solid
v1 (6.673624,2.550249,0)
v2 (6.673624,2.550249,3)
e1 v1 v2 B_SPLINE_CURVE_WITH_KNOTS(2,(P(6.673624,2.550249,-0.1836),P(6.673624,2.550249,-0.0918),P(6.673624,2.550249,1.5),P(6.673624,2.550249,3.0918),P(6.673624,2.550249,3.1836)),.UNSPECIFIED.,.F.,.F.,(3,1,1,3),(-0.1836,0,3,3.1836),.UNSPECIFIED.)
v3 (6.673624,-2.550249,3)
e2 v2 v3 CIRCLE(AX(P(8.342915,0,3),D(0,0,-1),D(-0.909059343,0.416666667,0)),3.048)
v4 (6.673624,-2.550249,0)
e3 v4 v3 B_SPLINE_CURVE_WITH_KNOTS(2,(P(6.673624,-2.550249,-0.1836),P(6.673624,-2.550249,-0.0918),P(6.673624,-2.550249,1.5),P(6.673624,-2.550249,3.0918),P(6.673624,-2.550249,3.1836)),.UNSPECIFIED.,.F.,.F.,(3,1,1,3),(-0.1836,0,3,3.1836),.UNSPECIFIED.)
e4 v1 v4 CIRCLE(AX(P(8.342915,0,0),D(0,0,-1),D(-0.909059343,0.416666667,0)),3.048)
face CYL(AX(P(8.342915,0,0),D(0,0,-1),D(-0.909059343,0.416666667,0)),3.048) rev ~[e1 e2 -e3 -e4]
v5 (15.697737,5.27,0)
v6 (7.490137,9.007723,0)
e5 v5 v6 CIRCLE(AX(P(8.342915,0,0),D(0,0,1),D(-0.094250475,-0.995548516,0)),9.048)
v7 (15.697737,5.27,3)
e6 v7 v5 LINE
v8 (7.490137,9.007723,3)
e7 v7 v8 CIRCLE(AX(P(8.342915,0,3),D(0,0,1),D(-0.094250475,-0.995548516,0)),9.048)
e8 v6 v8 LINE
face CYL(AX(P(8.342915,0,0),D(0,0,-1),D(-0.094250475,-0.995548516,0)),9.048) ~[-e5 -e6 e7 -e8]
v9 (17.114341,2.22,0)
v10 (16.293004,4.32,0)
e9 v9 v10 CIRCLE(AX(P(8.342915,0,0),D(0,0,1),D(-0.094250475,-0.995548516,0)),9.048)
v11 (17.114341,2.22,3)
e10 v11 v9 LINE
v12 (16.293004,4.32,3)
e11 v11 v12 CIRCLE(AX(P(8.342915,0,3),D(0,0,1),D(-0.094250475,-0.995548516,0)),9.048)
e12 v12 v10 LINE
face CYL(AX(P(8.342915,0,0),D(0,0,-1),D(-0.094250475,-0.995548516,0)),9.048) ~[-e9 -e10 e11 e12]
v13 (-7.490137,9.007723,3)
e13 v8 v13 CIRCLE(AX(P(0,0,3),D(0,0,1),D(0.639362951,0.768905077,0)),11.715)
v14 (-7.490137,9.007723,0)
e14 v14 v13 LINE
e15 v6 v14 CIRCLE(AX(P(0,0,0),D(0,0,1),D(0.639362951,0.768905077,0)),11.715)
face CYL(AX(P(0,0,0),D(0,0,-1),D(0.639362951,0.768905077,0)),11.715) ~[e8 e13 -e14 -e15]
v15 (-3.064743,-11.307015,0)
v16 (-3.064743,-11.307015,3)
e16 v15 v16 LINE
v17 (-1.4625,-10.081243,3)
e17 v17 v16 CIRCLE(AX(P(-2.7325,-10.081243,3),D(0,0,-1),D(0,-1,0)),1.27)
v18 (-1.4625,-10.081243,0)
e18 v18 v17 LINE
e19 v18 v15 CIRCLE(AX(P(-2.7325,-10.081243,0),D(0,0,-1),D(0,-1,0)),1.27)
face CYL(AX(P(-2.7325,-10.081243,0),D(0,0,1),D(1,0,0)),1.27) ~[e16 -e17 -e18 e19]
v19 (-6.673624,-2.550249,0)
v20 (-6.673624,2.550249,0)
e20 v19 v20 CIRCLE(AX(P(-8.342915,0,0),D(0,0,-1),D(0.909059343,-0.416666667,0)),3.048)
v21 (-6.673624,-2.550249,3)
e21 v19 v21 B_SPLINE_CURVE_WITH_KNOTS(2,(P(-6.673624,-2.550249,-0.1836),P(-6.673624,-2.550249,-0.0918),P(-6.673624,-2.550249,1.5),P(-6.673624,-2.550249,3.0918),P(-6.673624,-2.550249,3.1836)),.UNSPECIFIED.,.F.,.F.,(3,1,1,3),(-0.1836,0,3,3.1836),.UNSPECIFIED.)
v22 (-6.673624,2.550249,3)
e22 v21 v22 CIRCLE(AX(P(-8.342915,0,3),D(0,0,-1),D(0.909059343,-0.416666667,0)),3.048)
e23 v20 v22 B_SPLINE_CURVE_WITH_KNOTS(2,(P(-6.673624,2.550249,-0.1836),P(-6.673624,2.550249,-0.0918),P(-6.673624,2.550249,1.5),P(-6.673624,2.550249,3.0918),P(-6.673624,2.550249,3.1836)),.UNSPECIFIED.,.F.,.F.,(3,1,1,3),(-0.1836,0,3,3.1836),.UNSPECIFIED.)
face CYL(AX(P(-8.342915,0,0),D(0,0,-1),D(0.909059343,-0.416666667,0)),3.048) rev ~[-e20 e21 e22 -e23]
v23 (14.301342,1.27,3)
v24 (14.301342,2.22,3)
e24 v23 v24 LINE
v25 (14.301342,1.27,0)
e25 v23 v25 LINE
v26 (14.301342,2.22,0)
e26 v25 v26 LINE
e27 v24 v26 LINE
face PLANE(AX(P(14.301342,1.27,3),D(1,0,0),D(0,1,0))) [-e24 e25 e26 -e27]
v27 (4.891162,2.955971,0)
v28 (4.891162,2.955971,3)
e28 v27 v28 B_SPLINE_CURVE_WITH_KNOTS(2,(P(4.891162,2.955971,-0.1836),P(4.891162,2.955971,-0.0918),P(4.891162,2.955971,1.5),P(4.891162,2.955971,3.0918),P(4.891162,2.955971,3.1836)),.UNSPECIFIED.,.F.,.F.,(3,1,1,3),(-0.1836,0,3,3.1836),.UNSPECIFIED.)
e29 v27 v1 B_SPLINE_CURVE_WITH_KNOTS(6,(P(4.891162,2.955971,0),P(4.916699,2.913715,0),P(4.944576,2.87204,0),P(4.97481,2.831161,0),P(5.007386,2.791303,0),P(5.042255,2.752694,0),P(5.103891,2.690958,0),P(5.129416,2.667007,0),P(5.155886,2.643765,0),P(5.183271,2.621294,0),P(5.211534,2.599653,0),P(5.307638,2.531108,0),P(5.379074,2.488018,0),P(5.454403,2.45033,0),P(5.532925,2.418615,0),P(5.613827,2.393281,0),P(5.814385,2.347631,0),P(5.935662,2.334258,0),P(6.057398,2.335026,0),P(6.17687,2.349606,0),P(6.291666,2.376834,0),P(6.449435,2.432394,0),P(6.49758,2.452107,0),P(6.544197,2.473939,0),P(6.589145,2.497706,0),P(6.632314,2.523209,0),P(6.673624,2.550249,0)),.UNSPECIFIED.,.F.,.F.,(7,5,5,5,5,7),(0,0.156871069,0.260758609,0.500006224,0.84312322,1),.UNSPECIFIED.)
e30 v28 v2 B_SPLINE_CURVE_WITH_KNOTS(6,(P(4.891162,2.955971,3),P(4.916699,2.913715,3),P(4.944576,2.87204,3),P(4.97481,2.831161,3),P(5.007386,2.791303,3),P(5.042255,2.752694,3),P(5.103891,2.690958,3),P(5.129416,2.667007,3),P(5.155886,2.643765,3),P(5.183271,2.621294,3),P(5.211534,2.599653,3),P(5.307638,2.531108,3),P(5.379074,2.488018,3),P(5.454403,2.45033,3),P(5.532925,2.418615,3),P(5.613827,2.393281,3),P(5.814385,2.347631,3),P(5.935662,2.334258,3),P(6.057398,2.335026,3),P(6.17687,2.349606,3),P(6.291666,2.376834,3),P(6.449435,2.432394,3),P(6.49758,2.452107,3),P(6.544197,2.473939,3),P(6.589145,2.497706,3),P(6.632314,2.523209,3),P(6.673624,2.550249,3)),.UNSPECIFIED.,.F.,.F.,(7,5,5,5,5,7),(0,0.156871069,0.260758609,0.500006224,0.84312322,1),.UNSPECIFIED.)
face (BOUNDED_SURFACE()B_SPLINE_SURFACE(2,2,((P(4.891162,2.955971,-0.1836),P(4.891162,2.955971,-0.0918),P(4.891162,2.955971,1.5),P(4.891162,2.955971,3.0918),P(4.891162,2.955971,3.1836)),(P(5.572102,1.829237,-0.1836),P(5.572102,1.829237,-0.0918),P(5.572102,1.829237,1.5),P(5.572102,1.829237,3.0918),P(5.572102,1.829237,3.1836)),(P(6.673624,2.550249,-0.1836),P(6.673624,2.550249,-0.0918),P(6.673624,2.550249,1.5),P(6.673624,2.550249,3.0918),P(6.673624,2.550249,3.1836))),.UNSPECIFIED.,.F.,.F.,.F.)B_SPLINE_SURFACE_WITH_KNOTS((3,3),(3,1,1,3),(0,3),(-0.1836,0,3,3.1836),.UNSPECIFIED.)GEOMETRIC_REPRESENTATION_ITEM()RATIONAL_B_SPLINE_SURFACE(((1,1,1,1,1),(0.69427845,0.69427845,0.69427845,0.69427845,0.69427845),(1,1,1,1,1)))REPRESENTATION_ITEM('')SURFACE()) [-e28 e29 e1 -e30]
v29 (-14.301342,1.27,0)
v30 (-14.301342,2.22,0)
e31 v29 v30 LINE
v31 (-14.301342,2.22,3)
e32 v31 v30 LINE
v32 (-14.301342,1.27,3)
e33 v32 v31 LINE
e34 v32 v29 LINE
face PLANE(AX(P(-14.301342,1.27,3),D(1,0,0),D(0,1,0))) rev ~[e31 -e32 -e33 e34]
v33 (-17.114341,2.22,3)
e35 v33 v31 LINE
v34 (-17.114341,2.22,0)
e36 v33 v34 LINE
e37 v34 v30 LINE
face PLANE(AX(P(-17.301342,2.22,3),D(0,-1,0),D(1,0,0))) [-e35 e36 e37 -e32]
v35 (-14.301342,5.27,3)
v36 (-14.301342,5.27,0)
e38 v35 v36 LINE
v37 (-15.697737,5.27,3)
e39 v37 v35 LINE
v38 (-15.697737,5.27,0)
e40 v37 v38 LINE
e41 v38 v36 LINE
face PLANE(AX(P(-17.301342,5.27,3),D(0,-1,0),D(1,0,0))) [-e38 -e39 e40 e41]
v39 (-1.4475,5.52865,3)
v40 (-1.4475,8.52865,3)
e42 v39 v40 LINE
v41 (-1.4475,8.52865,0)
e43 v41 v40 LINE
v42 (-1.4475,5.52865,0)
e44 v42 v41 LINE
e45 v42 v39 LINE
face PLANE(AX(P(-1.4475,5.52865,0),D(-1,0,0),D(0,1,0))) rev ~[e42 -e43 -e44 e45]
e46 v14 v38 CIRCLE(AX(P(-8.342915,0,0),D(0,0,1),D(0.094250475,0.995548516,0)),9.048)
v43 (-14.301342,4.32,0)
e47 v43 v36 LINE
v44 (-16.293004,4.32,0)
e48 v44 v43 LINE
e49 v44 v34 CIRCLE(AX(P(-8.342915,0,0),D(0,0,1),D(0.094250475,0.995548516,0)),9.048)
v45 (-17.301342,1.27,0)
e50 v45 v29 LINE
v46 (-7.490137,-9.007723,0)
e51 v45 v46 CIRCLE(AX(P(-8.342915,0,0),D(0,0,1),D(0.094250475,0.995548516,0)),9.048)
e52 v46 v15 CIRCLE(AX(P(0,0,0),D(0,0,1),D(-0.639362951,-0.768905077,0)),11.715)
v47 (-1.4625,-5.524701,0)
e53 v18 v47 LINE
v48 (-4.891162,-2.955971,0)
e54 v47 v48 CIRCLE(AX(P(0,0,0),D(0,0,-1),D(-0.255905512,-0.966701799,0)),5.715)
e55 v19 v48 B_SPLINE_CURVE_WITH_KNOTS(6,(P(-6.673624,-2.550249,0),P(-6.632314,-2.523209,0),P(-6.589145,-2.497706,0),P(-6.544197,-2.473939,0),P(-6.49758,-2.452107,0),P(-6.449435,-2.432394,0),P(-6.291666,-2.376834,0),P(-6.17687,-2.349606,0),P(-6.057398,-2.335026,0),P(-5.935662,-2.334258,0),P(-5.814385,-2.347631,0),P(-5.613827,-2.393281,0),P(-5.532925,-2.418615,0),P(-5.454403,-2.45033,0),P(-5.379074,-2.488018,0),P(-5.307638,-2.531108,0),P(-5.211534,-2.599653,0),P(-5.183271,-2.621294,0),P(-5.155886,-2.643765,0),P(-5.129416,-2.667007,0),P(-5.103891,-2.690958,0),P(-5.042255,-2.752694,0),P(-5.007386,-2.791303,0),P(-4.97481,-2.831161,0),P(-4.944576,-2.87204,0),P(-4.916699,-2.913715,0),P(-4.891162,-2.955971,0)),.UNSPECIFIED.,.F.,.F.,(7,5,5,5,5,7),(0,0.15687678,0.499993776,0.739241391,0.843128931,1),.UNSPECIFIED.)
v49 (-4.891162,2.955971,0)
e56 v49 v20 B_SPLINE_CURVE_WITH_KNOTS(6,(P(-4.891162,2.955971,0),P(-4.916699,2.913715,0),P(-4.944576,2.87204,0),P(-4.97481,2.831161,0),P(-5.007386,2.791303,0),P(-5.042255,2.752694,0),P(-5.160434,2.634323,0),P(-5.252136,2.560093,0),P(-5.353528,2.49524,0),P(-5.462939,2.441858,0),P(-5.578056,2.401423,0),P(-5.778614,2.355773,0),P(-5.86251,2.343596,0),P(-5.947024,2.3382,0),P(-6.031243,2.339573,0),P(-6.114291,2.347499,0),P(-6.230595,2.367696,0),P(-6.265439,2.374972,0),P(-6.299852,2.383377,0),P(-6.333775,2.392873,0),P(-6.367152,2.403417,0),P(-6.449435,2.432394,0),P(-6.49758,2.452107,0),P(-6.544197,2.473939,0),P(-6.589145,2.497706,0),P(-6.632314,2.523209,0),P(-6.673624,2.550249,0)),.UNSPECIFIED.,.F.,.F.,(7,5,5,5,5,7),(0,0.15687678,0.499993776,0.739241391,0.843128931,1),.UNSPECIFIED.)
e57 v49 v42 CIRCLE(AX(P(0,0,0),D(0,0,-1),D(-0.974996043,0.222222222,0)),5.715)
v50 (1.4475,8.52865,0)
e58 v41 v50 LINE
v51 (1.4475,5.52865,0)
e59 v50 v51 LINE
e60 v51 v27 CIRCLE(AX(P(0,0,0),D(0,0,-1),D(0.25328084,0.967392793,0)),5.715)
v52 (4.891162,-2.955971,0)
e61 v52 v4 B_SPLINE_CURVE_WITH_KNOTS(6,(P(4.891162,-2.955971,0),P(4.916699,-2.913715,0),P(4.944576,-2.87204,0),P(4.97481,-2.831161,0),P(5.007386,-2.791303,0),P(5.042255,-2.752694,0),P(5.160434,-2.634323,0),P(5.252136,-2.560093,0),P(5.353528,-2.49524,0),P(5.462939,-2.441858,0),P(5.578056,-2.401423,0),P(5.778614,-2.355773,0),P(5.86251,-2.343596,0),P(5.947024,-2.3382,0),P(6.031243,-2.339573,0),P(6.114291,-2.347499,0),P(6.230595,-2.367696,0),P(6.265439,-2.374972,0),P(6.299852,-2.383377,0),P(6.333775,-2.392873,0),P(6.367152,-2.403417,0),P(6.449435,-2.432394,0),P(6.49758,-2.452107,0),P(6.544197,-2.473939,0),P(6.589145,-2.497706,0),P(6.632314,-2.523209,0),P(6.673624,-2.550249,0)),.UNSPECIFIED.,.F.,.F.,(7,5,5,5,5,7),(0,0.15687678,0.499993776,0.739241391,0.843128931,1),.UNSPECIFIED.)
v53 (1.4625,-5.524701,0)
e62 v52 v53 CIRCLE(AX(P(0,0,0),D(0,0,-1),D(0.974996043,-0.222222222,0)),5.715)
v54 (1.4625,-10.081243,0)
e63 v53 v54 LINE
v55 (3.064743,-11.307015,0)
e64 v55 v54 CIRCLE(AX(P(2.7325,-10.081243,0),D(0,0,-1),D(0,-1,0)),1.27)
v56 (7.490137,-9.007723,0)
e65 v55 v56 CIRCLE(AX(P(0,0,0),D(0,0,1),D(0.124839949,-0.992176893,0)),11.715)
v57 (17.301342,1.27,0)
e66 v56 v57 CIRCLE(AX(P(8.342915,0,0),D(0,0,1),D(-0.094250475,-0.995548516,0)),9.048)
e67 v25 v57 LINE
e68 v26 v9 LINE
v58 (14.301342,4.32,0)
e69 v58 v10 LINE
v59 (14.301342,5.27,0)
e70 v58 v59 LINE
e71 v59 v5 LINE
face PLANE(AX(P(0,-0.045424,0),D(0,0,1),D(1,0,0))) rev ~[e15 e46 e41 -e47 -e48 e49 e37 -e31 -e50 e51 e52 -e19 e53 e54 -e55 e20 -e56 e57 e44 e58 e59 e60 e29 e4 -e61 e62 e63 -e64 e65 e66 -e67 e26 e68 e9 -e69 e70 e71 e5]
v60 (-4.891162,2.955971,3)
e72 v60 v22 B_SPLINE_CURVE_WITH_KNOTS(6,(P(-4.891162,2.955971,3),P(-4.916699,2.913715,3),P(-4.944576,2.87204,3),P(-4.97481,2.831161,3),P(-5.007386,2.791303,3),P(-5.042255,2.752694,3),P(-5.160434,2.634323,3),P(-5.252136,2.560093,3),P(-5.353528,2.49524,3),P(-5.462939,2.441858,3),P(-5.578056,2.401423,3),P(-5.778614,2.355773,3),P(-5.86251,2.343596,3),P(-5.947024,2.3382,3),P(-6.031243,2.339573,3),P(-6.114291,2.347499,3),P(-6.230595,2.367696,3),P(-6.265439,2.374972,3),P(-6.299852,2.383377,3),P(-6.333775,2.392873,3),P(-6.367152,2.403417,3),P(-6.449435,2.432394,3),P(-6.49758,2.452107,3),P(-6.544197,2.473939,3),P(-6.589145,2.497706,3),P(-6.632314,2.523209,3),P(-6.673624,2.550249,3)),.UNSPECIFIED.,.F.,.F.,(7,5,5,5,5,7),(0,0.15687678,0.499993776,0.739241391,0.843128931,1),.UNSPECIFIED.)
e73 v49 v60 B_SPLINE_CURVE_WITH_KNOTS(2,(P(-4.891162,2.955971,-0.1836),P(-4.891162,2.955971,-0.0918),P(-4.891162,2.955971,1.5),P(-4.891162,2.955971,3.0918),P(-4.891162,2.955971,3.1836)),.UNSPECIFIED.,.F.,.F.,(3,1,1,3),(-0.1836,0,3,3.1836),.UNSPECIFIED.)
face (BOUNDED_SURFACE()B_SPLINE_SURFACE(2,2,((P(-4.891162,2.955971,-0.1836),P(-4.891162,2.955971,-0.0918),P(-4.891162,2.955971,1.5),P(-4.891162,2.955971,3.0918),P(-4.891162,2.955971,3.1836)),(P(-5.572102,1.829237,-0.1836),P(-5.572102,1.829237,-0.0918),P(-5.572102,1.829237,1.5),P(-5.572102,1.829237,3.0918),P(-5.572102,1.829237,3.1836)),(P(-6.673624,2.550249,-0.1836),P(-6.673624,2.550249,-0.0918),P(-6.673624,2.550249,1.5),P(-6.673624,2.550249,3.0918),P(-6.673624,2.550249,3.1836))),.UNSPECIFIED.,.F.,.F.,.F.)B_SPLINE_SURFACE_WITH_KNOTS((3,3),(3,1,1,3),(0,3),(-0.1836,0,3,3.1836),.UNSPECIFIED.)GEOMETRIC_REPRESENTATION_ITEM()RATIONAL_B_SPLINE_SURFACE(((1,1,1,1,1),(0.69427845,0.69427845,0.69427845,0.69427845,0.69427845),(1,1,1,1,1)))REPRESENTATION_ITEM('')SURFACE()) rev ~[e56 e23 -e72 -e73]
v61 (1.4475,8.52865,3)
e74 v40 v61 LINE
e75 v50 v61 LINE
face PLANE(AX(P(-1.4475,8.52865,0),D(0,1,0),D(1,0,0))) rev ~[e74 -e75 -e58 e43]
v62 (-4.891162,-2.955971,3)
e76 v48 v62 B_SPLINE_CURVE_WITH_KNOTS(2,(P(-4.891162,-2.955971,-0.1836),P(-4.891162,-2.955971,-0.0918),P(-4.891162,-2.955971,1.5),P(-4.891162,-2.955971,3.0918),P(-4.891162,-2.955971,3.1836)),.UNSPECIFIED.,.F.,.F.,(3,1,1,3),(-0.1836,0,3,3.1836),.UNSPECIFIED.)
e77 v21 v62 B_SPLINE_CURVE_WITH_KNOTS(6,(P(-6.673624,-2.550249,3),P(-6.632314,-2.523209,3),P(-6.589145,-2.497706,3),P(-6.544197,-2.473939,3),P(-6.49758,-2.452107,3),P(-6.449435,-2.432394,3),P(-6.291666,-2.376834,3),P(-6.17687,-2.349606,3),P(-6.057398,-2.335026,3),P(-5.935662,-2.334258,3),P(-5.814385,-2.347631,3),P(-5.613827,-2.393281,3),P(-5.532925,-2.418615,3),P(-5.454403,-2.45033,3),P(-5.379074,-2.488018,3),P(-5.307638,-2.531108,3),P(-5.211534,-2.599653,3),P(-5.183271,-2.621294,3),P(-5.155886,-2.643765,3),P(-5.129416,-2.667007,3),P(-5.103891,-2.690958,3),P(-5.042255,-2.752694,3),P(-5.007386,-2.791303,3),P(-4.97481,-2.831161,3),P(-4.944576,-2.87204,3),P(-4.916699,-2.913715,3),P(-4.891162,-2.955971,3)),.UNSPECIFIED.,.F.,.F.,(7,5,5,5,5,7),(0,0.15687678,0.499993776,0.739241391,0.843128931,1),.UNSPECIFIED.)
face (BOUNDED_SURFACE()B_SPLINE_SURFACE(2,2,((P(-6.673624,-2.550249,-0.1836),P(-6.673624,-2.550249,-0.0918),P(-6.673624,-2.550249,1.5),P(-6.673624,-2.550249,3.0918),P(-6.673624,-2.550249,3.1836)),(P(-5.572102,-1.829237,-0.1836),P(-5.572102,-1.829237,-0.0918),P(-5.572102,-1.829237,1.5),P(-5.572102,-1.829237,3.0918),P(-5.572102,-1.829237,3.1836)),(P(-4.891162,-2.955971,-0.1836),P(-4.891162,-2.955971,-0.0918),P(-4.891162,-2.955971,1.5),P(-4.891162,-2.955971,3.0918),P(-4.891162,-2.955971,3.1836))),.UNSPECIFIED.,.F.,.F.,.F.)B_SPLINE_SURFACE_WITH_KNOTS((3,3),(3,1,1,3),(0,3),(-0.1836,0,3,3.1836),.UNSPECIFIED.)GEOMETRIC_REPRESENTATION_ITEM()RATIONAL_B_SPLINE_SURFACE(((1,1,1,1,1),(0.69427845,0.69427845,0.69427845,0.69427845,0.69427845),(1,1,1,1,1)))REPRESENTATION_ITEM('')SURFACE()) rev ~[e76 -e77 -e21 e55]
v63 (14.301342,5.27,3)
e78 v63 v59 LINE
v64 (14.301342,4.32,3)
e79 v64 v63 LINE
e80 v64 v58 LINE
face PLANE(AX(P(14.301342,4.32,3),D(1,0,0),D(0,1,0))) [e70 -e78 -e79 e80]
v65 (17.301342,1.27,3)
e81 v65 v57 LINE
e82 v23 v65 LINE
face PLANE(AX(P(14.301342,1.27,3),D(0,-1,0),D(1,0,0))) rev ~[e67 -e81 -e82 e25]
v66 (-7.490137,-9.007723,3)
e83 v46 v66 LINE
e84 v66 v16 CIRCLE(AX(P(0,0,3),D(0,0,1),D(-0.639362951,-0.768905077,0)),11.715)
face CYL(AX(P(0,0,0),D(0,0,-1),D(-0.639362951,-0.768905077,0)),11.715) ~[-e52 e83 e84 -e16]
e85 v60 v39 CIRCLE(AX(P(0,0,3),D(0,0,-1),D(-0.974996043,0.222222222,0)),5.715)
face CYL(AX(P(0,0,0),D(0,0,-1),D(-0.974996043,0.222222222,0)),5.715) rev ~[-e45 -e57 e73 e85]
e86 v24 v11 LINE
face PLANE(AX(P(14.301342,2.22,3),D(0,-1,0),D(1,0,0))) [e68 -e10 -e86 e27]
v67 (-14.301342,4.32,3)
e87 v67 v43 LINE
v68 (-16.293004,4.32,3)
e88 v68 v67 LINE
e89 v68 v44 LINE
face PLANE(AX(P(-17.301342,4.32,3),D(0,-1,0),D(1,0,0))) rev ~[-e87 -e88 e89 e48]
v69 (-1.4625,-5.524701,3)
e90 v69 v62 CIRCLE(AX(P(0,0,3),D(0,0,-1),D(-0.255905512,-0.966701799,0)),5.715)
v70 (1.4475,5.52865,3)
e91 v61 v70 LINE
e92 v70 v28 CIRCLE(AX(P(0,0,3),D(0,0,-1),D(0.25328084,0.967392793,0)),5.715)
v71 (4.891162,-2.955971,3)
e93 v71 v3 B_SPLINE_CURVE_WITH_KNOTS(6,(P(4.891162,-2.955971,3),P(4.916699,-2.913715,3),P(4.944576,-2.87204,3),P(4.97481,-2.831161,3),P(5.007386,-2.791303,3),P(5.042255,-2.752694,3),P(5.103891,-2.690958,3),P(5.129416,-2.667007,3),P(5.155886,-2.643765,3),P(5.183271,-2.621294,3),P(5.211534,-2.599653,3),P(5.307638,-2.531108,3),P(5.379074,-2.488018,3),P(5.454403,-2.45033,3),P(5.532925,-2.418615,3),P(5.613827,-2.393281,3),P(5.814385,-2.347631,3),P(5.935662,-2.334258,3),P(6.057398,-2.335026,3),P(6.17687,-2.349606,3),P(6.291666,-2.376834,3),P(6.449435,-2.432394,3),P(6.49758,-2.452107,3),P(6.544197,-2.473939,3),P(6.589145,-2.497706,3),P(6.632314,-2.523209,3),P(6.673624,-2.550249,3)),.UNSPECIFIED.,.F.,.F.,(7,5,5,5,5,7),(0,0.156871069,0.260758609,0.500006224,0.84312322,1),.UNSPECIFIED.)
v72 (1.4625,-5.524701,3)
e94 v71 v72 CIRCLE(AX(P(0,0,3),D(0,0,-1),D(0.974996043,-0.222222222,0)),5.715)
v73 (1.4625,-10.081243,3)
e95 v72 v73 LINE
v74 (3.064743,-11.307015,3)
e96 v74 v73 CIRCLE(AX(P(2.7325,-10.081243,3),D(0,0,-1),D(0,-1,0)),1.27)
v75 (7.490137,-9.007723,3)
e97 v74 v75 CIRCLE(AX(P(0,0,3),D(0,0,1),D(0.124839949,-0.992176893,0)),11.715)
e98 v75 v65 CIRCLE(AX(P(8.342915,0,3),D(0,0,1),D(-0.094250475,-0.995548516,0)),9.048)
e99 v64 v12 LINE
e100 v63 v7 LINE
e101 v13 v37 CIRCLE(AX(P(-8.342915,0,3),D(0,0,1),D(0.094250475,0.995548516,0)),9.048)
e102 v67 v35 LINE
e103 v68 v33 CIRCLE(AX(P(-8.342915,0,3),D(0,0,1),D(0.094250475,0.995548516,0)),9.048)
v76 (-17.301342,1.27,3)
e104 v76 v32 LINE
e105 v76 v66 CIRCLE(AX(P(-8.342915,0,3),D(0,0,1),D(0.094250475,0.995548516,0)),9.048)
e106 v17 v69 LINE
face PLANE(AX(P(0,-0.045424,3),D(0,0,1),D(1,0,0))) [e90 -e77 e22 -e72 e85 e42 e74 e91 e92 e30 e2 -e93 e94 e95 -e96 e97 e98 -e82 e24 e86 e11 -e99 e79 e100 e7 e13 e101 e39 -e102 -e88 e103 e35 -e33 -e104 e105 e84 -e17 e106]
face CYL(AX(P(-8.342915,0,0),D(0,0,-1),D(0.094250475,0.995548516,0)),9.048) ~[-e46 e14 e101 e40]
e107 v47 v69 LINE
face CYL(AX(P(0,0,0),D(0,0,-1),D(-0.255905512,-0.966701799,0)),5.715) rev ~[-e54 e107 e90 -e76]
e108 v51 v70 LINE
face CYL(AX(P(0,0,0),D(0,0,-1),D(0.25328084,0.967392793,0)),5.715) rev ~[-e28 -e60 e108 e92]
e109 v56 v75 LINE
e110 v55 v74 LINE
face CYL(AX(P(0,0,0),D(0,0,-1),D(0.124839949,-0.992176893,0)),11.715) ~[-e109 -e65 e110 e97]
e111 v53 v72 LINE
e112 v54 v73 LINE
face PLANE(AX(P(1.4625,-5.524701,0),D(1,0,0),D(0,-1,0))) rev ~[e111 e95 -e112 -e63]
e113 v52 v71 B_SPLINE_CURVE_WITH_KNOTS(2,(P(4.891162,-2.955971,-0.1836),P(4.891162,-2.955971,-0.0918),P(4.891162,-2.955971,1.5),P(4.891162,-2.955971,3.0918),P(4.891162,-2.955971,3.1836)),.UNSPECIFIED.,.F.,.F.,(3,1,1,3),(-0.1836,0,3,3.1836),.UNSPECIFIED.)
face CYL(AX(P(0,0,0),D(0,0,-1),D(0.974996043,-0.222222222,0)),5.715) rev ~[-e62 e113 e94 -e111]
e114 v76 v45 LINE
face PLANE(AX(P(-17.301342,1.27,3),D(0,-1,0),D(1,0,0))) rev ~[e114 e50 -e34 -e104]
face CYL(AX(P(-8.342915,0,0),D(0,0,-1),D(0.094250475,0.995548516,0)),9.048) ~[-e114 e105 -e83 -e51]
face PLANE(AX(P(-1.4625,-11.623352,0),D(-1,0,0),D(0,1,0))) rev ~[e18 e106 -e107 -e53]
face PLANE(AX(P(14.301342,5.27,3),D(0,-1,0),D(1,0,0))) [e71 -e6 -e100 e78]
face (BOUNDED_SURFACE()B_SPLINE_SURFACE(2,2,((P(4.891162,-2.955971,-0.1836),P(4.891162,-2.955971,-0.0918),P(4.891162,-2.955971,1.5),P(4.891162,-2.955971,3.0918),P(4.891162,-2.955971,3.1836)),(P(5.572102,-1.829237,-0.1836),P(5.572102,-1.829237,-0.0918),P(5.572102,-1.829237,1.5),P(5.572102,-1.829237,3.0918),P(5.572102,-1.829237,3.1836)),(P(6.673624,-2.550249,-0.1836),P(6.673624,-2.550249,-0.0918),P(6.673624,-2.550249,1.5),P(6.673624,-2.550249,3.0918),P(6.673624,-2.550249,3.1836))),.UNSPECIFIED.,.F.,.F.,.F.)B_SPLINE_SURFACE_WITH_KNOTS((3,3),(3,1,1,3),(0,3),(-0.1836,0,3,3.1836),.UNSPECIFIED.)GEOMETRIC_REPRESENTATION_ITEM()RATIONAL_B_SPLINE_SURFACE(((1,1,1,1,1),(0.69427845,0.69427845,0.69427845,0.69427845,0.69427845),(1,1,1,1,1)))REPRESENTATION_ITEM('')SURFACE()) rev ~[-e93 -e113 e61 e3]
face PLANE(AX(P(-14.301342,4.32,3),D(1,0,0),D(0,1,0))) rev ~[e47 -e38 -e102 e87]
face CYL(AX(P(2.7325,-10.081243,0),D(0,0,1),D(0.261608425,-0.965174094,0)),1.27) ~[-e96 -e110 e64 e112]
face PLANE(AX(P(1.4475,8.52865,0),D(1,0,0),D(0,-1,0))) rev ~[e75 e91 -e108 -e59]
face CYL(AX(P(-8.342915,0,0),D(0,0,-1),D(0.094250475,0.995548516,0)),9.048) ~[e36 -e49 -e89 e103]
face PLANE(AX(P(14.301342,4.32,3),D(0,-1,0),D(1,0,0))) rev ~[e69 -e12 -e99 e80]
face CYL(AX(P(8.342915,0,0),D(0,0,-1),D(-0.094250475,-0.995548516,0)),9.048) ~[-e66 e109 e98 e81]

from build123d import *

# Parameters (mm, degrees)
EXTRUDE_1_DEPTH     = 3
SKETCH_2_W          = 3
SKETCH_2_H          = 0.95
CUT_EXTRUDE_1_DEPTH = 3
FILLET_1_R          = 1.27


with BuildPart() as part:
    # 스케치1 → 보스-돌출1 (new body)
    with BuildSketch(Plane.XY):
        with BuildLine():
            Line((-1.4475, 8.528649813), (1.4475, 8.528649813))
            Line((1.4475, 8.528649813), (1.4475, 5.528649813))
            ThreePointArc((1.4475, 5.528649813), (4.105207543, 3.975989943), (5.572102386, 1.27))
            ThreePointArc((5.572102386, 1.27), (11.390915263, 0), (5.572102386, -1.27))
            ThreePointArc((5.572102386, -1.27), (4.110599393, -3.970415297), (1.4625, -5.524700784))
            Line((1.4625, -5.524700784), (1.4625, -11.623352303))
            ThreePointArc((1.4625, -11.623352303), (4.663454339, -10.746786433), (7.490136969, -9.007722974))
            ThreePointArc((7.490136969, -9.007722974), (17.390915263, 0), (7.490136969, 9.007722974))
            ThreePointArc((7.490136969, 9.007722974), (0, 11.715), (-7.490136969, 9.007722974))
            ThreePointArc((-7.490136969, 9.007722974), (-17.390915263, 0), (-7.490136969, -9.007722974))
            ThreePointArc((-7.490136969, -9.007722974), (-4.663454339, -10.746786433), (-1.4625, -11.623352303))
            Line((-1.4625, -11.623352303), (-1.4625, -5.524700784))
            ThreePointArc((-1.4625, -5.524700784), (-4.110599393, -3.970415297), (-5.572102386, -1.27))
            ThreePointArc((-5.572102386, -1.27), (-11.390915263, 0), (-5.572102386, 1.27))
            ThreePointArc((-5.572102386, 1.27), (-4.105207543, 3.975989943), (-1.4475, 5.528649813))
            Line((-1.4475, 5.528649813), (-1.4475, 8.528649813))
        make_face()
    extrude(amount=EXTRUDE_1_DEPTH)

    # 스케치2 → 컷-돌출1 (cut)
    with BuildSketch(Plane.XY.offset(3)):
        with Locations((15.801341687, 1.745)):
            Rectangle(SKETCH_2_W, SKETCH_2_H)
        with Locations((-15.801341687, 4.795)):
            Rectangle(SKETCH_2_W, SKETCH_2_H)
        with Locations((-15.801341687, 1.745)):
            Rectangle(SKETCH_2_W, SKETCH_2_H)
        with Locations((15.801341687, 4.795)):
            Rectangle(SKETCH_2_W, SKETCH_2_H)
    extrude(amount=-CUT_EXTRUDE_1_DEPTH, mode=Mode.SUBTRACT)

    # 필렛1
    fillet_1_edges = [part.edges().sort_by_distance(p)[0] for p in [
        (-5.572102386, 1.27, 1.5),
        (-5.572102386, -1.27, 1.5),
        (-1.4625, -11.623352303, 1.5),
        (1.4625, -11.623352303, 1.5),
        (5.572102386, -1.27, 1.5),
        (5.572102386, 1.27, 1.5),
    ]]
    fillet(fillet_1_edges, radius=FILLET_1_R)


solid = part.part
